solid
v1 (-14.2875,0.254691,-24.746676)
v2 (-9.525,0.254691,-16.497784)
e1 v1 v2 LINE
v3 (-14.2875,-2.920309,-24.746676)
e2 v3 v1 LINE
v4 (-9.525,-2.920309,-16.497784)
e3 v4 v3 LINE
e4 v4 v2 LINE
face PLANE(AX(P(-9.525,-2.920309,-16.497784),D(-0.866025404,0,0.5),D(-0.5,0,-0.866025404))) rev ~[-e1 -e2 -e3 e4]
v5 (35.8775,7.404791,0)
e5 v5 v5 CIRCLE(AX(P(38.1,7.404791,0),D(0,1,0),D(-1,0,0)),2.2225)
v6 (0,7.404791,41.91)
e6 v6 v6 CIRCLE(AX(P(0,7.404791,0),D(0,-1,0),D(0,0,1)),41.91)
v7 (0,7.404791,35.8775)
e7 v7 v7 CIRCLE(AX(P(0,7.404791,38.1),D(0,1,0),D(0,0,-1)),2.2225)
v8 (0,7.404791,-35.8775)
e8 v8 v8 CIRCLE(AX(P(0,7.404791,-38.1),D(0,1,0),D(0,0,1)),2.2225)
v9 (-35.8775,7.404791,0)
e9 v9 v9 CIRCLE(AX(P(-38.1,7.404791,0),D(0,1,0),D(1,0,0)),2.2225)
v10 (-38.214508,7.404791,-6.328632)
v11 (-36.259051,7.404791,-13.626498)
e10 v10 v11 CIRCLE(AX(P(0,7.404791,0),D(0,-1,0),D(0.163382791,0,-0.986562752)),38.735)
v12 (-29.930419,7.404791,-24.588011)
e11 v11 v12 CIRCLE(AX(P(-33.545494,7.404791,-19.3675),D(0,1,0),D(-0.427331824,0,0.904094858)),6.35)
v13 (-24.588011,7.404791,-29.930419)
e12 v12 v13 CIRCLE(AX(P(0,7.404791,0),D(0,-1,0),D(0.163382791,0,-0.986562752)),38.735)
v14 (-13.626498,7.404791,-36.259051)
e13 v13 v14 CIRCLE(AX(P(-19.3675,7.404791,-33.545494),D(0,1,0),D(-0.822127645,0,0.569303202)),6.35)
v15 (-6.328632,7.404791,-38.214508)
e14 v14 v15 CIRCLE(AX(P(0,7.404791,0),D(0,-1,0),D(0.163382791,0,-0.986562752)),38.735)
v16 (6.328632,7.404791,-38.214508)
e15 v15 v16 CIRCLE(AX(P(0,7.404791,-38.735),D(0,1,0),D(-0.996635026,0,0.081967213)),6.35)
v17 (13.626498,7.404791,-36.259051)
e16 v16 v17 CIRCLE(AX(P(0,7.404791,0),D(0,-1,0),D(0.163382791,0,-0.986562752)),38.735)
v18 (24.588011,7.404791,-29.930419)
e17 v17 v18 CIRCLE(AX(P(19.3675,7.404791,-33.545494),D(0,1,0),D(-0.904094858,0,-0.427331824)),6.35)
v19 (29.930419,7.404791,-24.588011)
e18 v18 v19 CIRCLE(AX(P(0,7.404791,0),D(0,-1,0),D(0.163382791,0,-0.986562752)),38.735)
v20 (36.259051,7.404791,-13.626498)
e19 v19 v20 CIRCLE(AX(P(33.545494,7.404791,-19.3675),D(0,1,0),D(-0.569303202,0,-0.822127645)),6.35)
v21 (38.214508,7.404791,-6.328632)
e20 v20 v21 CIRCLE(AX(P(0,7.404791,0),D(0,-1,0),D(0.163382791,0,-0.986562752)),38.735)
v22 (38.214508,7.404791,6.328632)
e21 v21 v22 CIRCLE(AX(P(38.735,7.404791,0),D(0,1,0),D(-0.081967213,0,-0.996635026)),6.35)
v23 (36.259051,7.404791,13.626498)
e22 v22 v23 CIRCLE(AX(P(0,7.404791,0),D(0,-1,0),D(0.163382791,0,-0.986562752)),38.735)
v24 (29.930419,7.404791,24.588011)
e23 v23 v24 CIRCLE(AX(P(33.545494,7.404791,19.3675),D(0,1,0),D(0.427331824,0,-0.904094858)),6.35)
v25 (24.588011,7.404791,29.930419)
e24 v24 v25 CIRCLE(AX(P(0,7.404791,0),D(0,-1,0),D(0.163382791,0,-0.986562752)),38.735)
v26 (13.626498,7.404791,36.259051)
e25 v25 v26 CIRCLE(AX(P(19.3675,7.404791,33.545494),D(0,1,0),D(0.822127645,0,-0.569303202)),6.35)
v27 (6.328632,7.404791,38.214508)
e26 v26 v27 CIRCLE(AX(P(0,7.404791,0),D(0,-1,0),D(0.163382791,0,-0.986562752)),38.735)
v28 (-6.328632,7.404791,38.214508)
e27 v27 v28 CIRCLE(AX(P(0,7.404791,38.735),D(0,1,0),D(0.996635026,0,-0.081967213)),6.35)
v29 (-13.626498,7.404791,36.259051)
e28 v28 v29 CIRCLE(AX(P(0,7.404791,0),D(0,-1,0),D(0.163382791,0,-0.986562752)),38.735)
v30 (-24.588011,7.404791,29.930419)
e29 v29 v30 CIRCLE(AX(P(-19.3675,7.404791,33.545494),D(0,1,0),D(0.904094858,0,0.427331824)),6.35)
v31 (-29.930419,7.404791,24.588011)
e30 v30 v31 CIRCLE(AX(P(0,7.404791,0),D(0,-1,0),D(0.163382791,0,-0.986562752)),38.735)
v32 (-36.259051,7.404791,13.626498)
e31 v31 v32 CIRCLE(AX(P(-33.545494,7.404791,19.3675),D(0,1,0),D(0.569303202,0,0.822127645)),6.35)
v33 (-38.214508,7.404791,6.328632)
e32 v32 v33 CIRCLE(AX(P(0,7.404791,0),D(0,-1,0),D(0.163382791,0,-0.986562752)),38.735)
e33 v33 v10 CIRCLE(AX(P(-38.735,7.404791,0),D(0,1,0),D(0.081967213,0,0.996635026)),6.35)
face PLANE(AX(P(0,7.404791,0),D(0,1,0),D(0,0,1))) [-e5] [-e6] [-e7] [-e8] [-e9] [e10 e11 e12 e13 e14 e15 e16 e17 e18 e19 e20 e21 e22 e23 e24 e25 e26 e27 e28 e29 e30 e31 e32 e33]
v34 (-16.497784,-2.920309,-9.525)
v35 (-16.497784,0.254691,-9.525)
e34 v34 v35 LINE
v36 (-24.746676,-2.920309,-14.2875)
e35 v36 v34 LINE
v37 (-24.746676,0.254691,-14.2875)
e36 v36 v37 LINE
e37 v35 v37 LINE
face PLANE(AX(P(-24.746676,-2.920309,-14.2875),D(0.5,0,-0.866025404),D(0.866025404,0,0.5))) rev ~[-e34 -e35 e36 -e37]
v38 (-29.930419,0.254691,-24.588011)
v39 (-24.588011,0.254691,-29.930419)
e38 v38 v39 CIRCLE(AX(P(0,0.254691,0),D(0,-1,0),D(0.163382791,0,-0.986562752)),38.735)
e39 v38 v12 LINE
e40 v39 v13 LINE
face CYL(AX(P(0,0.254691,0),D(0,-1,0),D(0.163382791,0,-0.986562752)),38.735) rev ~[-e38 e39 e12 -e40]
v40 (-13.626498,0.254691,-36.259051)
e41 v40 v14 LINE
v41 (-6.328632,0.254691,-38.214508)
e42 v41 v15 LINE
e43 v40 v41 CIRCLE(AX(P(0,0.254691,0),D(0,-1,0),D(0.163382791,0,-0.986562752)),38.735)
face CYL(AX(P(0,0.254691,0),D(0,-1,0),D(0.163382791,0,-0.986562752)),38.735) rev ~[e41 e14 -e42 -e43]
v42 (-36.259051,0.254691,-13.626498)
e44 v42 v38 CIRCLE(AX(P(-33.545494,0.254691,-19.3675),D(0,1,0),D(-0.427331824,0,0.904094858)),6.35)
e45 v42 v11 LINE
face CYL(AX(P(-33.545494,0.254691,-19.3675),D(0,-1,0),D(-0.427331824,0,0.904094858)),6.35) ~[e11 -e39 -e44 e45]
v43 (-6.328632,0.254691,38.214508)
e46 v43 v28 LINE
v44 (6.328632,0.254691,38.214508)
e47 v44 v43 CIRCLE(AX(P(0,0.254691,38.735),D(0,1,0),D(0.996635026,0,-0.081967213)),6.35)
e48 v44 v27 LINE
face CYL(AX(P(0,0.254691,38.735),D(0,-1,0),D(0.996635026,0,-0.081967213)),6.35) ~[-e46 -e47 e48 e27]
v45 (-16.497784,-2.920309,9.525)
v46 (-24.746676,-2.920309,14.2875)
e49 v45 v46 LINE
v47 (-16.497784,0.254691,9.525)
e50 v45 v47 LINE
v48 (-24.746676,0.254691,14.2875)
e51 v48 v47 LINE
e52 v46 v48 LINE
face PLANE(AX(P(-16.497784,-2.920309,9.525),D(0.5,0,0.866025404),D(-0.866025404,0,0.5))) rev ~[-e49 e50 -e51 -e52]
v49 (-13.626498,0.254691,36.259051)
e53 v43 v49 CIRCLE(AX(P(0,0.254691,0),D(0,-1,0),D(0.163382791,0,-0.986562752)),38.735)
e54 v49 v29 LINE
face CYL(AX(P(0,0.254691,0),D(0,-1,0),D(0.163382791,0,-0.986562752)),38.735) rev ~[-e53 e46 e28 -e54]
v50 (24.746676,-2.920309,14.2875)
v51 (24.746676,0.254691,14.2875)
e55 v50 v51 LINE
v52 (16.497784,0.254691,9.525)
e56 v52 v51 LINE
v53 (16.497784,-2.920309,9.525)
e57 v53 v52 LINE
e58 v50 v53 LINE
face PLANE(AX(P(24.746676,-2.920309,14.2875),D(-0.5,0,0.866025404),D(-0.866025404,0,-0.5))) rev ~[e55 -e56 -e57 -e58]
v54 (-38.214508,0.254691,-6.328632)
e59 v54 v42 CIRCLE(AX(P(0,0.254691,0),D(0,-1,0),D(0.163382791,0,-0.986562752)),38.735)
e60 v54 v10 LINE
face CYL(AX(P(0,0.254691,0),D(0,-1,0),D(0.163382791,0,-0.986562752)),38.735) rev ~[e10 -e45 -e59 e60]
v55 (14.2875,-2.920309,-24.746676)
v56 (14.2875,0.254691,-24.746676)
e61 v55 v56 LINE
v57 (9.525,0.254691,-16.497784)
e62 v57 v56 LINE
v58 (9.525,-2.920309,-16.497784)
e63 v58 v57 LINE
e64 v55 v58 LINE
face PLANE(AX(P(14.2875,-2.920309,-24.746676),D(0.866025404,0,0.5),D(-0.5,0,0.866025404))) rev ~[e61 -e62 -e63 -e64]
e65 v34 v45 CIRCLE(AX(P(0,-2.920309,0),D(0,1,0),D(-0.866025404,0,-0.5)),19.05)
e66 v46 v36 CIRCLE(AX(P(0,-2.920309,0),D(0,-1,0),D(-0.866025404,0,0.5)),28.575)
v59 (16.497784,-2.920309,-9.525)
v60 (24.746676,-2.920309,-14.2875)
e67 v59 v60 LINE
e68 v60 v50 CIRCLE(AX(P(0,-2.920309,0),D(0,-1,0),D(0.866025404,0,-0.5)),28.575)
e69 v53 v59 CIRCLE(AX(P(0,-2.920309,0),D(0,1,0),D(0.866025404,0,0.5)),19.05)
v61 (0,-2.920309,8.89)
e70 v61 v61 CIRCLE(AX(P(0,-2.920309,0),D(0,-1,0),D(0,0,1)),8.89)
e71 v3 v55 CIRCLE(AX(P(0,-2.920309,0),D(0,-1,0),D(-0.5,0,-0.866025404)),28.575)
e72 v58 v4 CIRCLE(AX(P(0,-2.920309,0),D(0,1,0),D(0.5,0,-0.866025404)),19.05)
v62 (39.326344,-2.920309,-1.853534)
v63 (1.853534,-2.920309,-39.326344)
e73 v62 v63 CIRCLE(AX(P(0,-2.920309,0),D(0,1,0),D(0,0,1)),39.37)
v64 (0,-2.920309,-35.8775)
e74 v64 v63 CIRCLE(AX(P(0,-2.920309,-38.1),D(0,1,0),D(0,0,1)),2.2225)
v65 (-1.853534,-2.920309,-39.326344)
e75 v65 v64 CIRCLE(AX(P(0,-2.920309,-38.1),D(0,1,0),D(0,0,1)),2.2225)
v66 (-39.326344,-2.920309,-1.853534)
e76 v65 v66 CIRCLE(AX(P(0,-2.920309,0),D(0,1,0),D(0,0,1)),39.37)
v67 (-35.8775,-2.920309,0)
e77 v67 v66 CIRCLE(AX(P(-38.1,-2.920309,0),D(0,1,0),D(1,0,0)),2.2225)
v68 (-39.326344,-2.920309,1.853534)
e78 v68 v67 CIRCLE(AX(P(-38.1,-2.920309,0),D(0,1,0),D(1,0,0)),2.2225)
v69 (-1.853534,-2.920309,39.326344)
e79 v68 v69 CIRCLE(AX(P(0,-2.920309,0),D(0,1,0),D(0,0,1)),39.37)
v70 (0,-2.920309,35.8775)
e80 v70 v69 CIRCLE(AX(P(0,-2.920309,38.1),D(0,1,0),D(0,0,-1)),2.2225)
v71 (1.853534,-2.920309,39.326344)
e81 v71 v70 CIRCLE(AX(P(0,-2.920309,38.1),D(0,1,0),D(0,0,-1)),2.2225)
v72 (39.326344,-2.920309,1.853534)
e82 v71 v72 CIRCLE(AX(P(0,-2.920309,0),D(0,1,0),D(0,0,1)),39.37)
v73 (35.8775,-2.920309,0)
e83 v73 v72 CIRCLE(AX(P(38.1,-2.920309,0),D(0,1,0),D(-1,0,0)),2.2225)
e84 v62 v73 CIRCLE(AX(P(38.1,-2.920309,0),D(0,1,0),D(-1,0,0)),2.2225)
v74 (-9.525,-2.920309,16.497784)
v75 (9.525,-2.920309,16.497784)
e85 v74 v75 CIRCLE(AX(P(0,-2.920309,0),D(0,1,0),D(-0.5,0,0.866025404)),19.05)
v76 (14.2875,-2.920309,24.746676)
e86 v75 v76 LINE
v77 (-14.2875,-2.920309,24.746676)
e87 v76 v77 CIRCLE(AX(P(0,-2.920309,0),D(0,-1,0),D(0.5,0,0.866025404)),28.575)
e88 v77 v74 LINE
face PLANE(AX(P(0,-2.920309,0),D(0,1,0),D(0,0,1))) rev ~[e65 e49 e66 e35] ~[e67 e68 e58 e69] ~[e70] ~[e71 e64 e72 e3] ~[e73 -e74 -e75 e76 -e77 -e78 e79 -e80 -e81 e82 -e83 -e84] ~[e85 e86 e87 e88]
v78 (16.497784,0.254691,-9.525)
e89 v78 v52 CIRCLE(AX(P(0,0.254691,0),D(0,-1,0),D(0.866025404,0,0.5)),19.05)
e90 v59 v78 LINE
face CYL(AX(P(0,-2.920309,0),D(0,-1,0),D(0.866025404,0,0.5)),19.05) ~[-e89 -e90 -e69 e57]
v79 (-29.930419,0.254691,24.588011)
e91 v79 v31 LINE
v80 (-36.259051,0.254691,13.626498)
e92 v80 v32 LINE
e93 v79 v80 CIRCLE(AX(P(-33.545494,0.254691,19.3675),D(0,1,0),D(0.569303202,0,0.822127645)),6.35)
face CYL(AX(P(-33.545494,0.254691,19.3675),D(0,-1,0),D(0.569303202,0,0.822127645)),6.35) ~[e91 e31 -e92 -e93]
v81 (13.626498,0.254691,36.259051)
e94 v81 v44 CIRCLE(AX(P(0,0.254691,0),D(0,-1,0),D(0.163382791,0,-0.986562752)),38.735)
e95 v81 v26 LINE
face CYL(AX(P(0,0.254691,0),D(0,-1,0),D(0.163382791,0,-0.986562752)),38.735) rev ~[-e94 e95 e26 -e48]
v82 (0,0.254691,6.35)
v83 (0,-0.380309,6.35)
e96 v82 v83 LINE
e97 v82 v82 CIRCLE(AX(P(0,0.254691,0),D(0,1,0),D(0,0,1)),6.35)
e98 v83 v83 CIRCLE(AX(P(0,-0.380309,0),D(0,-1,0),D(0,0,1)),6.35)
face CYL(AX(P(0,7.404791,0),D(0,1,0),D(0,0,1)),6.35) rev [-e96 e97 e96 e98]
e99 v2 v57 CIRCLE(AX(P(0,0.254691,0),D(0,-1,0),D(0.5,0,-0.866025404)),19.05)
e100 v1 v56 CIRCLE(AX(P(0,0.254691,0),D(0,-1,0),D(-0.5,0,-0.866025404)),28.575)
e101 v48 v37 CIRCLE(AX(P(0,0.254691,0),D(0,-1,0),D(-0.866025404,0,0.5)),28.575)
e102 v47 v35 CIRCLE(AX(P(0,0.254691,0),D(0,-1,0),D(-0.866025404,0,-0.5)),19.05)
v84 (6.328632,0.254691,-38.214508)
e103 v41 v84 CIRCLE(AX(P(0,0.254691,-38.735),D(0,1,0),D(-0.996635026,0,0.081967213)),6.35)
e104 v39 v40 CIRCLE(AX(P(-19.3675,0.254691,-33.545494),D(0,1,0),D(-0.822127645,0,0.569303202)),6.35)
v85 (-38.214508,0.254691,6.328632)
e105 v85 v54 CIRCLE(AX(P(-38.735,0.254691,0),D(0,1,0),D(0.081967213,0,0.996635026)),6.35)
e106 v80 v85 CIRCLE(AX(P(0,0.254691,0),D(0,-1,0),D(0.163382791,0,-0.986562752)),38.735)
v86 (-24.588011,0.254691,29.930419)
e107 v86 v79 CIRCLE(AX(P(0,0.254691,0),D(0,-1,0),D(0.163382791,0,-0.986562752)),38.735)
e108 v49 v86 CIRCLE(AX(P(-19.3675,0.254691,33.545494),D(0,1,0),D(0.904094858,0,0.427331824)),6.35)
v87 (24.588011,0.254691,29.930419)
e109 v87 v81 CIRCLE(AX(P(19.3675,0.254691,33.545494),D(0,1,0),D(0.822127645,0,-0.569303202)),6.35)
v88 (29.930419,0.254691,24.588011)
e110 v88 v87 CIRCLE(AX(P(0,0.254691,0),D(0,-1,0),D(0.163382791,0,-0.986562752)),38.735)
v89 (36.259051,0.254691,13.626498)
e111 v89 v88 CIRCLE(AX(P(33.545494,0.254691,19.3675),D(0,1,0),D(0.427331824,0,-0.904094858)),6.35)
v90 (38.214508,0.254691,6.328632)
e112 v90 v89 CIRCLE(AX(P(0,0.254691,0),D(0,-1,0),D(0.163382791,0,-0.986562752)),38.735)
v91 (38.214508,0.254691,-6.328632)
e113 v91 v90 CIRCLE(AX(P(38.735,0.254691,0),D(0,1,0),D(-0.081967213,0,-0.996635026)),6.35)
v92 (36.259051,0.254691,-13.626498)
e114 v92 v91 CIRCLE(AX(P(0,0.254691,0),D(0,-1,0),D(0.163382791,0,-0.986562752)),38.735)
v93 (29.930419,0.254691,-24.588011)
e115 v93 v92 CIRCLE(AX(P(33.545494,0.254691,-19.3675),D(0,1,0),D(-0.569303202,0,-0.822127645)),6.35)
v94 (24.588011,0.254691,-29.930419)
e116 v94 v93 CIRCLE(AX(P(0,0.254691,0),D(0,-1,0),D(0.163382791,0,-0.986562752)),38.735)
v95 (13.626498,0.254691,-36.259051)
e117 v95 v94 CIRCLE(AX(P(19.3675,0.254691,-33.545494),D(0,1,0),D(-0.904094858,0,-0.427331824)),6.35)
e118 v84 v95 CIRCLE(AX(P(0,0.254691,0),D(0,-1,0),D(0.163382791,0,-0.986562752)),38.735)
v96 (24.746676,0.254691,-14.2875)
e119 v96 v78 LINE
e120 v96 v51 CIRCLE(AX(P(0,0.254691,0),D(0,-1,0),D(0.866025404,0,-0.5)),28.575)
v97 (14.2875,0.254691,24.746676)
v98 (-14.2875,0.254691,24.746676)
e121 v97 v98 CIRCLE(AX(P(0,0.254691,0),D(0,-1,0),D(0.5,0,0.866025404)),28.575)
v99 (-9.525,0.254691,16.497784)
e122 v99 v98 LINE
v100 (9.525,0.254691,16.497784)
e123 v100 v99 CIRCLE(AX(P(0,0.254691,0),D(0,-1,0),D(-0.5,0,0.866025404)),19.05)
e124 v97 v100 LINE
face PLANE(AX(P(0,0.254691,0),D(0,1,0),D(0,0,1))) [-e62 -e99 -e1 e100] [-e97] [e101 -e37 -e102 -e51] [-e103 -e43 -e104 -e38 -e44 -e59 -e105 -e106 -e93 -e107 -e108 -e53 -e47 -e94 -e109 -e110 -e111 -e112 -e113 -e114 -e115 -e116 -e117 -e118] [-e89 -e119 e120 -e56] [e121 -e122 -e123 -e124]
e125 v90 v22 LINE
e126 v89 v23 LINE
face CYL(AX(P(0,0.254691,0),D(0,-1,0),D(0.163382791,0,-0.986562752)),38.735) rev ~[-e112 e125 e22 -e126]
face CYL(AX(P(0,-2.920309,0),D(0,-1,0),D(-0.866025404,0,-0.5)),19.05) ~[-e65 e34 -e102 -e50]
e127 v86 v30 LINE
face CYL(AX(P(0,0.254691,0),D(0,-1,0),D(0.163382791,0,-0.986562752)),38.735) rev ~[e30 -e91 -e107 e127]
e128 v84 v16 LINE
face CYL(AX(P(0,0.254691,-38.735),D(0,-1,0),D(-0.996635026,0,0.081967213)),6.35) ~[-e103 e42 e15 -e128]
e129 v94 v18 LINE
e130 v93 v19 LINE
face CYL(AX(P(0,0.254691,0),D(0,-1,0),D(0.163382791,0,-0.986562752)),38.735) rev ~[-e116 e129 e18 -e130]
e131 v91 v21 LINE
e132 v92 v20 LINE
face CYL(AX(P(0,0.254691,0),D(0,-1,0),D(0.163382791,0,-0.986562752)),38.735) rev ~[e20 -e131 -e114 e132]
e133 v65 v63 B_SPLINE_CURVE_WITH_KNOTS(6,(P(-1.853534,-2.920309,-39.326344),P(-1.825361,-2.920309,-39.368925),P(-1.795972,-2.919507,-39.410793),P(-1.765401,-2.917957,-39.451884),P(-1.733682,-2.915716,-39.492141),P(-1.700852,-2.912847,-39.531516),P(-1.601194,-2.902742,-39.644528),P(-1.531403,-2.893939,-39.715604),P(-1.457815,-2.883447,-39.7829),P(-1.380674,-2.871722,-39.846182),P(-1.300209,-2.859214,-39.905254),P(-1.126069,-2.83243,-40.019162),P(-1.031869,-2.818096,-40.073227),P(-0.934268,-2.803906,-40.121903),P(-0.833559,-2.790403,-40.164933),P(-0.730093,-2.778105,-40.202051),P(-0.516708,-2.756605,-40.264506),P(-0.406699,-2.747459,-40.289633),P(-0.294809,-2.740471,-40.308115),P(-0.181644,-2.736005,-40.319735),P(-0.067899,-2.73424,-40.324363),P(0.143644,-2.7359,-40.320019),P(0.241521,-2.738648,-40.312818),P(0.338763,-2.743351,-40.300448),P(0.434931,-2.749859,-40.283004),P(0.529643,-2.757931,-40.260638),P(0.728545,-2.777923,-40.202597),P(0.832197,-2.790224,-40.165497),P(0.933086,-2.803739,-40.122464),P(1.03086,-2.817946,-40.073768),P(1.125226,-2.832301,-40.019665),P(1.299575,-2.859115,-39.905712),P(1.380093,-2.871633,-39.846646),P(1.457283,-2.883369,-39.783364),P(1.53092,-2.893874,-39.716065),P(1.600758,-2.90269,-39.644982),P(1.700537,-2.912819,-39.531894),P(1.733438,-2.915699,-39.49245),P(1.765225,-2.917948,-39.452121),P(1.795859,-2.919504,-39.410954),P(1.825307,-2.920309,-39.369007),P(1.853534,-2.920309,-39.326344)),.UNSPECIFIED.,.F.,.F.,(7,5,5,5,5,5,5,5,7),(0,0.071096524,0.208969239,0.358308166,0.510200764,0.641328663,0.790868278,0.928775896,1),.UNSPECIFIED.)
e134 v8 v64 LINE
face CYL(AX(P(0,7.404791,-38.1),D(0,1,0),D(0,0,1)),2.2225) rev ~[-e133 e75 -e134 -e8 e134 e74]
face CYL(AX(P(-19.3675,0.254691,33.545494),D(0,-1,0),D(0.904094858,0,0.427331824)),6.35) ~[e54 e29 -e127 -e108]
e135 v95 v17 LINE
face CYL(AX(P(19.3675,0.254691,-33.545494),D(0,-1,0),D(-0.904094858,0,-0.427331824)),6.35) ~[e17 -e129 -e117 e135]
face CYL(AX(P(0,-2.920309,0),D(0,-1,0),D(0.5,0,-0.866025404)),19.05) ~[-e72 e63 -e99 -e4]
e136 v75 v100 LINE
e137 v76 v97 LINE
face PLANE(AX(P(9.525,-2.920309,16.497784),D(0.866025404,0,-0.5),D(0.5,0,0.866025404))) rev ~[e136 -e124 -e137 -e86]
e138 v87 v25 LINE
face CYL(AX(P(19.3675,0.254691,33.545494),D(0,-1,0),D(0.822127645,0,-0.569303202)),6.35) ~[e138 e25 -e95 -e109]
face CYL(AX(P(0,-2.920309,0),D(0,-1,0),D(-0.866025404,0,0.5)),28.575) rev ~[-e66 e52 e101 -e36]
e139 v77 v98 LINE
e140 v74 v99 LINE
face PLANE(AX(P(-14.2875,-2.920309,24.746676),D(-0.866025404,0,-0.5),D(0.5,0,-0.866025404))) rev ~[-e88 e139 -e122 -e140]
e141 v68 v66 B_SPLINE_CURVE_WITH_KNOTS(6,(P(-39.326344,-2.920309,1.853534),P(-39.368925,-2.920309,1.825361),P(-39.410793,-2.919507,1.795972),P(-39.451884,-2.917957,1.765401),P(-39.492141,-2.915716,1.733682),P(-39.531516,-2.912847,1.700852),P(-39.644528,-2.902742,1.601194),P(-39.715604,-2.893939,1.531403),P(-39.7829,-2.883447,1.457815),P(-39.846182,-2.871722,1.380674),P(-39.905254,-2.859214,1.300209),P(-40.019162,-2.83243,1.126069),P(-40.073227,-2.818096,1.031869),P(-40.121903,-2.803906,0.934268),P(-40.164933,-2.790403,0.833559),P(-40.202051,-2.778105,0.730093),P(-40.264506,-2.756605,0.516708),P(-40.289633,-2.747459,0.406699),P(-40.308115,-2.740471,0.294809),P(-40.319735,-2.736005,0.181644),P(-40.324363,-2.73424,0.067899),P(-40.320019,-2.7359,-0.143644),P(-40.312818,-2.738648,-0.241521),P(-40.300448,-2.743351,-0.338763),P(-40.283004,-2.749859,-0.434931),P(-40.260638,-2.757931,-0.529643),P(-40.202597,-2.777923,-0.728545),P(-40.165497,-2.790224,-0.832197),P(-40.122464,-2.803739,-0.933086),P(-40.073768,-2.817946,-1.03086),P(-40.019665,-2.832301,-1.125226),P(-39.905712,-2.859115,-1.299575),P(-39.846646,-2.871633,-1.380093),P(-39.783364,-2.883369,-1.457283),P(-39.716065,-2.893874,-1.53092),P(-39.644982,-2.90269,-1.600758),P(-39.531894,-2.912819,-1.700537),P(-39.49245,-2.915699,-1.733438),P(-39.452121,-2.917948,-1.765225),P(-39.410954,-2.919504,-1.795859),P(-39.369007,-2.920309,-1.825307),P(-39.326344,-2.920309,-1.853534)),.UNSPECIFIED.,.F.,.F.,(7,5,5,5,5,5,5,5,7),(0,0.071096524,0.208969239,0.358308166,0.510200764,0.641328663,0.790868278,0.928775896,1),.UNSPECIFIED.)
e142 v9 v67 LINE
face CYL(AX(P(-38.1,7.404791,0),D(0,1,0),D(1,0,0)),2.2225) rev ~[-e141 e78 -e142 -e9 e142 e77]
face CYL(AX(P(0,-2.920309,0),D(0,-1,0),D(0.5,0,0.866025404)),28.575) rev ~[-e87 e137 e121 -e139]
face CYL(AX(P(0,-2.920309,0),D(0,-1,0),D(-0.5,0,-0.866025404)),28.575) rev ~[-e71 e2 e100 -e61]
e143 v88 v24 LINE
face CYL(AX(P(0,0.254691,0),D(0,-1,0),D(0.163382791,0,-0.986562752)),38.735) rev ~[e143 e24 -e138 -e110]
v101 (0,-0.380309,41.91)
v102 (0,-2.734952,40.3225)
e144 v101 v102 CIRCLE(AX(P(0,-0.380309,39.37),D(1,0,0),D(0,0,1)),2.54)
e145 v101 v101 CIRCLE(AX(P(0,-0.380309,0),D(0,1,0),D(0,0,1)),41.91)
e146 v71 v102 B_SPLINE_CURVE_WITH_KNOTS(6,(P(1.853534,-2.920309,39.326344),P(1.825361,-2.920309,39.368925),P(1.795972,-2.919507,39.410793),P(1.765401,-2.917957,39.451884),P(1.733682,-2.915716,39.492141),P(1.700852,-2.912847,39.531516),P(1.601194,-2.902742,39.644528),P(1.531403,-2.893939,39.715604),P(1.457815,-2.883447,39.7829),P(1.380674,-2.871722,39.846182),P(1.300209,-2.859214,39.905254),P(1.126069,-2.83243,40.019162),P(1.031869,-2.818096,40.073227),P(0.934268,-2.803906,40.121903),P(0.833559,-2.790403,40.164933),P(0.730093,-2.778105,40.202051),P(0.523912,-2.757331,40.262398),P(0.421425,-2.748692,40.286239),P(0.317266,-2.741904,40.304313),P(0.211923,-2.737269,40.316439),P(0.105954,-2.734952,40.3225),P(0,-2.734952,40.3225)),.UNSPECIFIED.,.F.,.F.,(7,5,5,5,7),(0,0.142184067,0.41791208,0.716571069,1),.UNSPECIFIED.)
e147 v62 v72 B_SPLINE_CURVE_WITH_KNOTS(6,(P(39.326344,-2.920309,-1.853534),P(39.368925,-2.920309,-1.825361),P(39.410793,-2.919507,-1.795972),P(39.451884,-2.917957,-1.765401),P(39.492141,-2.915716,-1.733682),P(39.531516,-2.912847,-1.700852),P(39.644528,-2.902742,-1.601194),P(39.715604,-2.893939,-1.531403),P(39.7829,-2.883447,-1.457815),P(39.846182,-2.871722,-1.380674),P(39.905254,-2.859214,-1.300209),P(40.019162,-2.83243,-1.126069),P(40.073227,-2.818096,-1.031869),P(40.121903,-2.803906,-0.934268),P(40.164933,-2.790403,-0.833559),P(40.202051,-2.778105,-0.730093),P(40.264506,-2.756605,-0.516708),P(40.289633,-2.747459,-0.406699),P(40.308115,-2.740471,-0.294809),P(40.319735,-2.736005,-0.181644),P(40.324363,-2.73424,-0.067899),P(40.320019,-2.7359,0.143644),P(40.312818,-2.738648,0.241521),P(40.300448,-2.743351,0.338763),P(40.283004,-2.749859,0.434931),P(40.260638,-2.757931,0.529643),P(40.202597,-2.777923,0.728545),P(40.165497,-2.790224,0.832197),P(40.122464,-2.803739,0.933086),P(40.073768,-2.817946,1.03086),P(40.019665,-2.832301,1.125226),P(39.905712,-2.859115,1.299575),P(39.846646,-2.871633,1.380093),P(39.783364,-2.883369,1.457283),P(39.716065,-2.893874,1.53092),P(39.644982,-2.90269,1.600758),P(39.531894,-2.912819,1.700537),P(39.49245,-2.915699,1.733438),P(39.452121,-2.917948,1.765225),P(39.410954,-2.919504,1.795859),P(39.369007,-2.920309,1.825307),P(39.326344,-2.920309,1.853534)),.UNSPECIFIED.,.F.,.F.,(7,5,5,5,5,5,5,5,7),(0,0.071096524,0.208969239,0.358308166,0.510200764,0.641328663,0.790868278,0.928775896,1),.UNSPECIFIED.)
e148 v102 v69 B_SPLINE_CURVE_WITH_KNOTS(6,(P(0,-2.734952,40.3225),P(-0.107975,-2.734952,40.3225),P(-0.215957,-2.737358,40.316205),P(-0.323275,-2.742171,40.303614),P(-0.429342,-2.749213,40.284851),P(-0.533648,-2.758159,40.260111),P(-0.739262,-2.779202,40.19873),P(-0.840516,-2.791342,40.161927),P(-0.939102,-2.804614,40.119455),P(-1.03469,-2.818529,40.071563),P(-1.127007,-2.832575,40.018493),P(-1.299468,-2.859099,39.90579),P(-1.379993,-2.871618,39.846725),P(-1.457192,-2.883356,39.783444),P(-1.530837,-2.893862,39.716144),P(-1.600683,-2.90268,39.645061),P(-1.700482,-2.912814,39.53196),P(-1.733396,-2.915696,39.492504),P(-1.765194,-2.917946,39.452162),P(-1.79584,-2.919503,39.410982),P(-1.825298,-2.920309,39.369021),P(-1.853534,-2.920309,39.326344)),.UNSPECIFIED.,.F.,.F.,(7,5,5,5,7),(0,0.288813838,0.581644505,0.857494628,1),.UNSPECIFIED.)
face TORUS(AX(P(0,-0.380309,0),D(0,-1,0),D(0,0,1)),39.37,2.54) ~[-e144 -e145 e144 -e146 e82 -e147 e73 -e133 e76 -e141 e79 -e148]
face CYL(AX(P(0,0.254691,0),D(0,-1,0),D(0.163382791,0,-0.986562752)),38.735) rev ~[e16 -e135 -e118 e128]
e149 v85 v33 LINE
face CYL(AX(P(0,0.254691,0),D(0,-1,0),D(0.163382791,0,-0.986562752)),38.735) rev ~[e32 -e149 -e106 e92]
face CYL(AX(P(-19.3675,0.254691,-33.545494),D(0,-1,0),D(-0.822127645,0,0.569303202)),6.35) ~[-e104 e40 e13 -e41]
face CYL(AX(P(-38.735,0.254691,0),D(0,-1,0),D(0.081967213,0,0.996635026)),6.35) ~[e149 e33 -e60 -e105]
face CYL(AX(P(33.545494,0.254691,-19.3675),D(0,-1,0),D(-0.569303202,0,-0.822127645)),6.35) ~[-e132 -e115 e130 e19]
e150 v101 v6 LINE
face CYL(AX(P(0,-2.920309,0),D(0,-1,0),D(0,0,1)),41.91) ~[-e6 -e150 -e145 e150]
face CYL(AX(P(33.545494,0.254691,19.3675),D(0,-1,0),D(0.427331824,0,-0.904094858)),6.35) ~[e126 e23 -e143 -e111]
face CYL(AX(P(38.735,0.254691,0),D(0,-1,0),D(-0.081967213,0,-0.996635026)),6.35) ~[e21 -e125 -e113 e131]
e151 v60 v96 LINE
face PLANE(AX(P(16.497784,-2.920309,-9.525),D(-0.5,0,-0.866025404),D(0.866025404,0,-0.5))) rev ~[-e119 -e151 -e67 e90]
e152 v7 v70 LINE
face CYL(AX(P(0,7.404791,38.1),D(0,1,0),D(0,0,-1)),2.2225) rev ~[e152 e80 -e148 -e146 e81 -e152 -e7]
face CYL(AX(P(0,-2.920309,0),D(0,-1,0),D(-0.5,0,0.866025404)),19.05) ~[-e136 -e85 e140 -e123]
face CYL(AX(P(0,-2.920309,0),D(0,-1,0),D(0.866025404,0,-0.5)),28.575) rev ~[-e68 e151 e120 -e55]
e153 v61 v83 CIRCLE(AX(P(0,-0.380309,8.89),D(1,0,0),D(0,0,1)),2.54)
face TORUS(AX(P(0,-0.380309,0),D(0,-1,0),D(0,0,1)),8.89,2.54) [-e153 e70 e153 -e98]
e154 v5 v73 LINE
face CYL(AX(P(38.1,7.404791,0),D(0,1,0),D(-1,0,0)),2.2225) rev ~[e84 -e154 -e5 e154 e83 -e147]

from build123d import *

# Parameters (mm, degrees)
SKETCH1_R           = 41.91
BOSS_EXTRUDE3_DEPTH = 7.1501
BOSS_EXTRUDE4_START = -3.175
SKETCH1_8_R         = 41.91
BOSS_EXTRUDE4_DEPTH = 3.175
SKETCH3_R           = 6.35
CUT_EXTRUDE1_DEPTH  = 10.3251
CIRPATTERN1_COUNT   = 12
FILLET1_R           = 2.54
CUT_EXTRUDE2_REACH  = 62.162
SKETCH4_R           = 2.2225
CIRPATTERN2_COUNT   = 4
SCALE1_SCALE        = 2
CUT_EXTRUDE3_START  = -6.350001
CUT_EXTRUDE3_DEPTH  = 20.6502
CIRPATTERN3_COUNT   = 4
SCALE2_SCALE        = 0.5


with BuildPart() as part:
    # Sketch1 → Boss-Extrude3 (new body)
    with BuildSketch(Plane(origin=(0, 0, 0), x_dir=(1, 0, 0), z_dir=(0, 1, 0))):
        with Locations(Location((0, 0, 0), (0, 0, 270))):
            Circle(SKETCH1_R)
        with BuildLine():
            ThreePointArc((6.328632418, 38.214508197), (0, -38.735), (-6.328632418, 38.214508197))
            ThreePointArc((-6.328632418, 38.214508197), (0, 32.385), (6.328632418, 38.214508197))
        make_face(mode=Mode.SUBTRACT)
    boss_extrude3 = extrude(amount=BOSS_EXTRUDE3_DEPTH)

    # Sketch1<8> → Boss-Extrude4 (add)
    with BuildSketch(Plane(origin=(0, 0, 0), x_dir=(1, 0, 0), z_dir=(0, 1, 0)).offset(BOSS_EXTRUDE4_START)):
        with Locations(Location((0, 0, 0), (0, 0, 270))):
            Circle(SKETCH1_8_R)
    extrude(amount=BOSS_EXTRUDE4_DEPTH)

    # Sketch3 → Cut-Extrude1 (cut)
    with BuildSketch(Plane.XZ.offset(-7.1501)):
        with Locations(Location((0, 0, 0), (0, 0, 90))):
            Circle(SKETCH3_R)
    extrude(amount=CUT_EXTRUDE1_DEPTH, mode=Mode.SUBTRACT)

    # CirPattern1: Boss-Extrude3 ×12 about axis
    cirpattern1_axis = Axis((0, 0, 0), (0, 1, 0))
    for i in range(1, CIRPATTERN1_COUNT):
        add(boss_extrude3.rotate(cirpattern1_axis, i * 360 / CIRPATTERN1_COUNT))

    # Fillet1
    fillet1_edges = [part.edges().sort_by_distance(p)[0] for p in [
        (0, -3.175, -41.91),
        (0, -3.175, -6.35),
    ]]
    fillet(fillet1_edges, radius=FILLET1_R)

    # Cut-Extrude2: up to this face of the body (flat: up to its plane)
    cut_extrude2_end = Plane(part.part.faces().sort_by_distance((0, -3.175, -38.256448241))[0])
    # Sketch4 → Cut-Extrude2 (cut, up to the picked face)
    with BuildSketch(Plane(origin=(0, 7.1501, 0), x_dir=(1, 0, 0), z_dir=(0, 1, 0)), mode=Mode.PRIVATE) as cut_extrude2_sk1:
        with Locations(Location((0, 38.1, 0), (0, 0, 270))):
            Circle(SKETCH4_R)
    cut_extrude2_tool1 = split(extrude(cut_extrude2_sk1.sketch, amount=-CUT_EXTRUDE2_REACH, mode=Mode.PRIVATE), bisect_by=cut_extrude2_end, keep=Keep.BOTH, mode=Mode.PRIVATE)
    cut_extrude2 = cut_extrude2_tool1.solids().sort_by(Axis((0, 7.1501, -38.1), (0, -1, 0)))[0]
    add(cut_extrude2, mode=Mode.SUBTRACT)

    # CirPattern2: Cut-Extrude2 ×4 about axis
    cirpattern2_axis = Axis((0, 0, 0), (0, 1, 0))
    for i in range(1, CIRPATTERN2_COUNT):
        add(cut_extrude2.rotate(cirpattern2_axis, i * 360 / CIRPATTERN2_COUNT), mode=Mode.SUBTRACT)


with BuildPart() as part_1:
    # Scale1: scaled about (-1.3e-08, 0.44206654, 1e-09)
    add(part.part.scale(SCALE1_SCALE).moved(Location((1.3e-08, -0.44206654, -1e-09))))

    # Sketch5 → Cut-Extrude3 (cut)
    with BuildSketch(Plane(origin=(0, -0.442065876, 0), x_dir=(1, 0, 0), z_dir=(0, 1, 0)).offset(CUT_EXTRUDE3_START)):
        with BuildLine():
            Line((-19.05, 32.995567884), (-28.575, 49.493351826))
            ThreePointArc((-28.575, 49.493351826), (0, 57.15), (28.575, 49.493351826))
            Line((28.575, 49.493351826), (19.05, 32.995567884))
            ThreePointArc((19.05, 32.995567884), (0, 38.1), (-19.05, 32.995567884))
        make_face()
    cut_extrude3 = extrude(amount=CUT_EXTRUDE3_DEPTH, mode=Mode.SUBTRACT)

    # CirPattern3: Cut-Extrude3 ×4 about axis
    cirpattern3_axis = Axis((0, -6.792065876, 0), (0, 1, 0))
    for i in range(1, CIRPATTERN3_COUNT):
        add(cut_extrude3.rotate(cirpattern3_axis, i * 360 / CIRPATTERN3_COUNT), mode=Mode.SUBTRACT)


with BuildPart() as part_2:
    # Scale2: scaled about (-1.4e-08, 0.951448261, 2e-09)
    add(part_1.part.scale(SCALE2_SCALE).moved(Location((-7e-09, 0.475724131, 1e-09))))


solid = part_2.part
